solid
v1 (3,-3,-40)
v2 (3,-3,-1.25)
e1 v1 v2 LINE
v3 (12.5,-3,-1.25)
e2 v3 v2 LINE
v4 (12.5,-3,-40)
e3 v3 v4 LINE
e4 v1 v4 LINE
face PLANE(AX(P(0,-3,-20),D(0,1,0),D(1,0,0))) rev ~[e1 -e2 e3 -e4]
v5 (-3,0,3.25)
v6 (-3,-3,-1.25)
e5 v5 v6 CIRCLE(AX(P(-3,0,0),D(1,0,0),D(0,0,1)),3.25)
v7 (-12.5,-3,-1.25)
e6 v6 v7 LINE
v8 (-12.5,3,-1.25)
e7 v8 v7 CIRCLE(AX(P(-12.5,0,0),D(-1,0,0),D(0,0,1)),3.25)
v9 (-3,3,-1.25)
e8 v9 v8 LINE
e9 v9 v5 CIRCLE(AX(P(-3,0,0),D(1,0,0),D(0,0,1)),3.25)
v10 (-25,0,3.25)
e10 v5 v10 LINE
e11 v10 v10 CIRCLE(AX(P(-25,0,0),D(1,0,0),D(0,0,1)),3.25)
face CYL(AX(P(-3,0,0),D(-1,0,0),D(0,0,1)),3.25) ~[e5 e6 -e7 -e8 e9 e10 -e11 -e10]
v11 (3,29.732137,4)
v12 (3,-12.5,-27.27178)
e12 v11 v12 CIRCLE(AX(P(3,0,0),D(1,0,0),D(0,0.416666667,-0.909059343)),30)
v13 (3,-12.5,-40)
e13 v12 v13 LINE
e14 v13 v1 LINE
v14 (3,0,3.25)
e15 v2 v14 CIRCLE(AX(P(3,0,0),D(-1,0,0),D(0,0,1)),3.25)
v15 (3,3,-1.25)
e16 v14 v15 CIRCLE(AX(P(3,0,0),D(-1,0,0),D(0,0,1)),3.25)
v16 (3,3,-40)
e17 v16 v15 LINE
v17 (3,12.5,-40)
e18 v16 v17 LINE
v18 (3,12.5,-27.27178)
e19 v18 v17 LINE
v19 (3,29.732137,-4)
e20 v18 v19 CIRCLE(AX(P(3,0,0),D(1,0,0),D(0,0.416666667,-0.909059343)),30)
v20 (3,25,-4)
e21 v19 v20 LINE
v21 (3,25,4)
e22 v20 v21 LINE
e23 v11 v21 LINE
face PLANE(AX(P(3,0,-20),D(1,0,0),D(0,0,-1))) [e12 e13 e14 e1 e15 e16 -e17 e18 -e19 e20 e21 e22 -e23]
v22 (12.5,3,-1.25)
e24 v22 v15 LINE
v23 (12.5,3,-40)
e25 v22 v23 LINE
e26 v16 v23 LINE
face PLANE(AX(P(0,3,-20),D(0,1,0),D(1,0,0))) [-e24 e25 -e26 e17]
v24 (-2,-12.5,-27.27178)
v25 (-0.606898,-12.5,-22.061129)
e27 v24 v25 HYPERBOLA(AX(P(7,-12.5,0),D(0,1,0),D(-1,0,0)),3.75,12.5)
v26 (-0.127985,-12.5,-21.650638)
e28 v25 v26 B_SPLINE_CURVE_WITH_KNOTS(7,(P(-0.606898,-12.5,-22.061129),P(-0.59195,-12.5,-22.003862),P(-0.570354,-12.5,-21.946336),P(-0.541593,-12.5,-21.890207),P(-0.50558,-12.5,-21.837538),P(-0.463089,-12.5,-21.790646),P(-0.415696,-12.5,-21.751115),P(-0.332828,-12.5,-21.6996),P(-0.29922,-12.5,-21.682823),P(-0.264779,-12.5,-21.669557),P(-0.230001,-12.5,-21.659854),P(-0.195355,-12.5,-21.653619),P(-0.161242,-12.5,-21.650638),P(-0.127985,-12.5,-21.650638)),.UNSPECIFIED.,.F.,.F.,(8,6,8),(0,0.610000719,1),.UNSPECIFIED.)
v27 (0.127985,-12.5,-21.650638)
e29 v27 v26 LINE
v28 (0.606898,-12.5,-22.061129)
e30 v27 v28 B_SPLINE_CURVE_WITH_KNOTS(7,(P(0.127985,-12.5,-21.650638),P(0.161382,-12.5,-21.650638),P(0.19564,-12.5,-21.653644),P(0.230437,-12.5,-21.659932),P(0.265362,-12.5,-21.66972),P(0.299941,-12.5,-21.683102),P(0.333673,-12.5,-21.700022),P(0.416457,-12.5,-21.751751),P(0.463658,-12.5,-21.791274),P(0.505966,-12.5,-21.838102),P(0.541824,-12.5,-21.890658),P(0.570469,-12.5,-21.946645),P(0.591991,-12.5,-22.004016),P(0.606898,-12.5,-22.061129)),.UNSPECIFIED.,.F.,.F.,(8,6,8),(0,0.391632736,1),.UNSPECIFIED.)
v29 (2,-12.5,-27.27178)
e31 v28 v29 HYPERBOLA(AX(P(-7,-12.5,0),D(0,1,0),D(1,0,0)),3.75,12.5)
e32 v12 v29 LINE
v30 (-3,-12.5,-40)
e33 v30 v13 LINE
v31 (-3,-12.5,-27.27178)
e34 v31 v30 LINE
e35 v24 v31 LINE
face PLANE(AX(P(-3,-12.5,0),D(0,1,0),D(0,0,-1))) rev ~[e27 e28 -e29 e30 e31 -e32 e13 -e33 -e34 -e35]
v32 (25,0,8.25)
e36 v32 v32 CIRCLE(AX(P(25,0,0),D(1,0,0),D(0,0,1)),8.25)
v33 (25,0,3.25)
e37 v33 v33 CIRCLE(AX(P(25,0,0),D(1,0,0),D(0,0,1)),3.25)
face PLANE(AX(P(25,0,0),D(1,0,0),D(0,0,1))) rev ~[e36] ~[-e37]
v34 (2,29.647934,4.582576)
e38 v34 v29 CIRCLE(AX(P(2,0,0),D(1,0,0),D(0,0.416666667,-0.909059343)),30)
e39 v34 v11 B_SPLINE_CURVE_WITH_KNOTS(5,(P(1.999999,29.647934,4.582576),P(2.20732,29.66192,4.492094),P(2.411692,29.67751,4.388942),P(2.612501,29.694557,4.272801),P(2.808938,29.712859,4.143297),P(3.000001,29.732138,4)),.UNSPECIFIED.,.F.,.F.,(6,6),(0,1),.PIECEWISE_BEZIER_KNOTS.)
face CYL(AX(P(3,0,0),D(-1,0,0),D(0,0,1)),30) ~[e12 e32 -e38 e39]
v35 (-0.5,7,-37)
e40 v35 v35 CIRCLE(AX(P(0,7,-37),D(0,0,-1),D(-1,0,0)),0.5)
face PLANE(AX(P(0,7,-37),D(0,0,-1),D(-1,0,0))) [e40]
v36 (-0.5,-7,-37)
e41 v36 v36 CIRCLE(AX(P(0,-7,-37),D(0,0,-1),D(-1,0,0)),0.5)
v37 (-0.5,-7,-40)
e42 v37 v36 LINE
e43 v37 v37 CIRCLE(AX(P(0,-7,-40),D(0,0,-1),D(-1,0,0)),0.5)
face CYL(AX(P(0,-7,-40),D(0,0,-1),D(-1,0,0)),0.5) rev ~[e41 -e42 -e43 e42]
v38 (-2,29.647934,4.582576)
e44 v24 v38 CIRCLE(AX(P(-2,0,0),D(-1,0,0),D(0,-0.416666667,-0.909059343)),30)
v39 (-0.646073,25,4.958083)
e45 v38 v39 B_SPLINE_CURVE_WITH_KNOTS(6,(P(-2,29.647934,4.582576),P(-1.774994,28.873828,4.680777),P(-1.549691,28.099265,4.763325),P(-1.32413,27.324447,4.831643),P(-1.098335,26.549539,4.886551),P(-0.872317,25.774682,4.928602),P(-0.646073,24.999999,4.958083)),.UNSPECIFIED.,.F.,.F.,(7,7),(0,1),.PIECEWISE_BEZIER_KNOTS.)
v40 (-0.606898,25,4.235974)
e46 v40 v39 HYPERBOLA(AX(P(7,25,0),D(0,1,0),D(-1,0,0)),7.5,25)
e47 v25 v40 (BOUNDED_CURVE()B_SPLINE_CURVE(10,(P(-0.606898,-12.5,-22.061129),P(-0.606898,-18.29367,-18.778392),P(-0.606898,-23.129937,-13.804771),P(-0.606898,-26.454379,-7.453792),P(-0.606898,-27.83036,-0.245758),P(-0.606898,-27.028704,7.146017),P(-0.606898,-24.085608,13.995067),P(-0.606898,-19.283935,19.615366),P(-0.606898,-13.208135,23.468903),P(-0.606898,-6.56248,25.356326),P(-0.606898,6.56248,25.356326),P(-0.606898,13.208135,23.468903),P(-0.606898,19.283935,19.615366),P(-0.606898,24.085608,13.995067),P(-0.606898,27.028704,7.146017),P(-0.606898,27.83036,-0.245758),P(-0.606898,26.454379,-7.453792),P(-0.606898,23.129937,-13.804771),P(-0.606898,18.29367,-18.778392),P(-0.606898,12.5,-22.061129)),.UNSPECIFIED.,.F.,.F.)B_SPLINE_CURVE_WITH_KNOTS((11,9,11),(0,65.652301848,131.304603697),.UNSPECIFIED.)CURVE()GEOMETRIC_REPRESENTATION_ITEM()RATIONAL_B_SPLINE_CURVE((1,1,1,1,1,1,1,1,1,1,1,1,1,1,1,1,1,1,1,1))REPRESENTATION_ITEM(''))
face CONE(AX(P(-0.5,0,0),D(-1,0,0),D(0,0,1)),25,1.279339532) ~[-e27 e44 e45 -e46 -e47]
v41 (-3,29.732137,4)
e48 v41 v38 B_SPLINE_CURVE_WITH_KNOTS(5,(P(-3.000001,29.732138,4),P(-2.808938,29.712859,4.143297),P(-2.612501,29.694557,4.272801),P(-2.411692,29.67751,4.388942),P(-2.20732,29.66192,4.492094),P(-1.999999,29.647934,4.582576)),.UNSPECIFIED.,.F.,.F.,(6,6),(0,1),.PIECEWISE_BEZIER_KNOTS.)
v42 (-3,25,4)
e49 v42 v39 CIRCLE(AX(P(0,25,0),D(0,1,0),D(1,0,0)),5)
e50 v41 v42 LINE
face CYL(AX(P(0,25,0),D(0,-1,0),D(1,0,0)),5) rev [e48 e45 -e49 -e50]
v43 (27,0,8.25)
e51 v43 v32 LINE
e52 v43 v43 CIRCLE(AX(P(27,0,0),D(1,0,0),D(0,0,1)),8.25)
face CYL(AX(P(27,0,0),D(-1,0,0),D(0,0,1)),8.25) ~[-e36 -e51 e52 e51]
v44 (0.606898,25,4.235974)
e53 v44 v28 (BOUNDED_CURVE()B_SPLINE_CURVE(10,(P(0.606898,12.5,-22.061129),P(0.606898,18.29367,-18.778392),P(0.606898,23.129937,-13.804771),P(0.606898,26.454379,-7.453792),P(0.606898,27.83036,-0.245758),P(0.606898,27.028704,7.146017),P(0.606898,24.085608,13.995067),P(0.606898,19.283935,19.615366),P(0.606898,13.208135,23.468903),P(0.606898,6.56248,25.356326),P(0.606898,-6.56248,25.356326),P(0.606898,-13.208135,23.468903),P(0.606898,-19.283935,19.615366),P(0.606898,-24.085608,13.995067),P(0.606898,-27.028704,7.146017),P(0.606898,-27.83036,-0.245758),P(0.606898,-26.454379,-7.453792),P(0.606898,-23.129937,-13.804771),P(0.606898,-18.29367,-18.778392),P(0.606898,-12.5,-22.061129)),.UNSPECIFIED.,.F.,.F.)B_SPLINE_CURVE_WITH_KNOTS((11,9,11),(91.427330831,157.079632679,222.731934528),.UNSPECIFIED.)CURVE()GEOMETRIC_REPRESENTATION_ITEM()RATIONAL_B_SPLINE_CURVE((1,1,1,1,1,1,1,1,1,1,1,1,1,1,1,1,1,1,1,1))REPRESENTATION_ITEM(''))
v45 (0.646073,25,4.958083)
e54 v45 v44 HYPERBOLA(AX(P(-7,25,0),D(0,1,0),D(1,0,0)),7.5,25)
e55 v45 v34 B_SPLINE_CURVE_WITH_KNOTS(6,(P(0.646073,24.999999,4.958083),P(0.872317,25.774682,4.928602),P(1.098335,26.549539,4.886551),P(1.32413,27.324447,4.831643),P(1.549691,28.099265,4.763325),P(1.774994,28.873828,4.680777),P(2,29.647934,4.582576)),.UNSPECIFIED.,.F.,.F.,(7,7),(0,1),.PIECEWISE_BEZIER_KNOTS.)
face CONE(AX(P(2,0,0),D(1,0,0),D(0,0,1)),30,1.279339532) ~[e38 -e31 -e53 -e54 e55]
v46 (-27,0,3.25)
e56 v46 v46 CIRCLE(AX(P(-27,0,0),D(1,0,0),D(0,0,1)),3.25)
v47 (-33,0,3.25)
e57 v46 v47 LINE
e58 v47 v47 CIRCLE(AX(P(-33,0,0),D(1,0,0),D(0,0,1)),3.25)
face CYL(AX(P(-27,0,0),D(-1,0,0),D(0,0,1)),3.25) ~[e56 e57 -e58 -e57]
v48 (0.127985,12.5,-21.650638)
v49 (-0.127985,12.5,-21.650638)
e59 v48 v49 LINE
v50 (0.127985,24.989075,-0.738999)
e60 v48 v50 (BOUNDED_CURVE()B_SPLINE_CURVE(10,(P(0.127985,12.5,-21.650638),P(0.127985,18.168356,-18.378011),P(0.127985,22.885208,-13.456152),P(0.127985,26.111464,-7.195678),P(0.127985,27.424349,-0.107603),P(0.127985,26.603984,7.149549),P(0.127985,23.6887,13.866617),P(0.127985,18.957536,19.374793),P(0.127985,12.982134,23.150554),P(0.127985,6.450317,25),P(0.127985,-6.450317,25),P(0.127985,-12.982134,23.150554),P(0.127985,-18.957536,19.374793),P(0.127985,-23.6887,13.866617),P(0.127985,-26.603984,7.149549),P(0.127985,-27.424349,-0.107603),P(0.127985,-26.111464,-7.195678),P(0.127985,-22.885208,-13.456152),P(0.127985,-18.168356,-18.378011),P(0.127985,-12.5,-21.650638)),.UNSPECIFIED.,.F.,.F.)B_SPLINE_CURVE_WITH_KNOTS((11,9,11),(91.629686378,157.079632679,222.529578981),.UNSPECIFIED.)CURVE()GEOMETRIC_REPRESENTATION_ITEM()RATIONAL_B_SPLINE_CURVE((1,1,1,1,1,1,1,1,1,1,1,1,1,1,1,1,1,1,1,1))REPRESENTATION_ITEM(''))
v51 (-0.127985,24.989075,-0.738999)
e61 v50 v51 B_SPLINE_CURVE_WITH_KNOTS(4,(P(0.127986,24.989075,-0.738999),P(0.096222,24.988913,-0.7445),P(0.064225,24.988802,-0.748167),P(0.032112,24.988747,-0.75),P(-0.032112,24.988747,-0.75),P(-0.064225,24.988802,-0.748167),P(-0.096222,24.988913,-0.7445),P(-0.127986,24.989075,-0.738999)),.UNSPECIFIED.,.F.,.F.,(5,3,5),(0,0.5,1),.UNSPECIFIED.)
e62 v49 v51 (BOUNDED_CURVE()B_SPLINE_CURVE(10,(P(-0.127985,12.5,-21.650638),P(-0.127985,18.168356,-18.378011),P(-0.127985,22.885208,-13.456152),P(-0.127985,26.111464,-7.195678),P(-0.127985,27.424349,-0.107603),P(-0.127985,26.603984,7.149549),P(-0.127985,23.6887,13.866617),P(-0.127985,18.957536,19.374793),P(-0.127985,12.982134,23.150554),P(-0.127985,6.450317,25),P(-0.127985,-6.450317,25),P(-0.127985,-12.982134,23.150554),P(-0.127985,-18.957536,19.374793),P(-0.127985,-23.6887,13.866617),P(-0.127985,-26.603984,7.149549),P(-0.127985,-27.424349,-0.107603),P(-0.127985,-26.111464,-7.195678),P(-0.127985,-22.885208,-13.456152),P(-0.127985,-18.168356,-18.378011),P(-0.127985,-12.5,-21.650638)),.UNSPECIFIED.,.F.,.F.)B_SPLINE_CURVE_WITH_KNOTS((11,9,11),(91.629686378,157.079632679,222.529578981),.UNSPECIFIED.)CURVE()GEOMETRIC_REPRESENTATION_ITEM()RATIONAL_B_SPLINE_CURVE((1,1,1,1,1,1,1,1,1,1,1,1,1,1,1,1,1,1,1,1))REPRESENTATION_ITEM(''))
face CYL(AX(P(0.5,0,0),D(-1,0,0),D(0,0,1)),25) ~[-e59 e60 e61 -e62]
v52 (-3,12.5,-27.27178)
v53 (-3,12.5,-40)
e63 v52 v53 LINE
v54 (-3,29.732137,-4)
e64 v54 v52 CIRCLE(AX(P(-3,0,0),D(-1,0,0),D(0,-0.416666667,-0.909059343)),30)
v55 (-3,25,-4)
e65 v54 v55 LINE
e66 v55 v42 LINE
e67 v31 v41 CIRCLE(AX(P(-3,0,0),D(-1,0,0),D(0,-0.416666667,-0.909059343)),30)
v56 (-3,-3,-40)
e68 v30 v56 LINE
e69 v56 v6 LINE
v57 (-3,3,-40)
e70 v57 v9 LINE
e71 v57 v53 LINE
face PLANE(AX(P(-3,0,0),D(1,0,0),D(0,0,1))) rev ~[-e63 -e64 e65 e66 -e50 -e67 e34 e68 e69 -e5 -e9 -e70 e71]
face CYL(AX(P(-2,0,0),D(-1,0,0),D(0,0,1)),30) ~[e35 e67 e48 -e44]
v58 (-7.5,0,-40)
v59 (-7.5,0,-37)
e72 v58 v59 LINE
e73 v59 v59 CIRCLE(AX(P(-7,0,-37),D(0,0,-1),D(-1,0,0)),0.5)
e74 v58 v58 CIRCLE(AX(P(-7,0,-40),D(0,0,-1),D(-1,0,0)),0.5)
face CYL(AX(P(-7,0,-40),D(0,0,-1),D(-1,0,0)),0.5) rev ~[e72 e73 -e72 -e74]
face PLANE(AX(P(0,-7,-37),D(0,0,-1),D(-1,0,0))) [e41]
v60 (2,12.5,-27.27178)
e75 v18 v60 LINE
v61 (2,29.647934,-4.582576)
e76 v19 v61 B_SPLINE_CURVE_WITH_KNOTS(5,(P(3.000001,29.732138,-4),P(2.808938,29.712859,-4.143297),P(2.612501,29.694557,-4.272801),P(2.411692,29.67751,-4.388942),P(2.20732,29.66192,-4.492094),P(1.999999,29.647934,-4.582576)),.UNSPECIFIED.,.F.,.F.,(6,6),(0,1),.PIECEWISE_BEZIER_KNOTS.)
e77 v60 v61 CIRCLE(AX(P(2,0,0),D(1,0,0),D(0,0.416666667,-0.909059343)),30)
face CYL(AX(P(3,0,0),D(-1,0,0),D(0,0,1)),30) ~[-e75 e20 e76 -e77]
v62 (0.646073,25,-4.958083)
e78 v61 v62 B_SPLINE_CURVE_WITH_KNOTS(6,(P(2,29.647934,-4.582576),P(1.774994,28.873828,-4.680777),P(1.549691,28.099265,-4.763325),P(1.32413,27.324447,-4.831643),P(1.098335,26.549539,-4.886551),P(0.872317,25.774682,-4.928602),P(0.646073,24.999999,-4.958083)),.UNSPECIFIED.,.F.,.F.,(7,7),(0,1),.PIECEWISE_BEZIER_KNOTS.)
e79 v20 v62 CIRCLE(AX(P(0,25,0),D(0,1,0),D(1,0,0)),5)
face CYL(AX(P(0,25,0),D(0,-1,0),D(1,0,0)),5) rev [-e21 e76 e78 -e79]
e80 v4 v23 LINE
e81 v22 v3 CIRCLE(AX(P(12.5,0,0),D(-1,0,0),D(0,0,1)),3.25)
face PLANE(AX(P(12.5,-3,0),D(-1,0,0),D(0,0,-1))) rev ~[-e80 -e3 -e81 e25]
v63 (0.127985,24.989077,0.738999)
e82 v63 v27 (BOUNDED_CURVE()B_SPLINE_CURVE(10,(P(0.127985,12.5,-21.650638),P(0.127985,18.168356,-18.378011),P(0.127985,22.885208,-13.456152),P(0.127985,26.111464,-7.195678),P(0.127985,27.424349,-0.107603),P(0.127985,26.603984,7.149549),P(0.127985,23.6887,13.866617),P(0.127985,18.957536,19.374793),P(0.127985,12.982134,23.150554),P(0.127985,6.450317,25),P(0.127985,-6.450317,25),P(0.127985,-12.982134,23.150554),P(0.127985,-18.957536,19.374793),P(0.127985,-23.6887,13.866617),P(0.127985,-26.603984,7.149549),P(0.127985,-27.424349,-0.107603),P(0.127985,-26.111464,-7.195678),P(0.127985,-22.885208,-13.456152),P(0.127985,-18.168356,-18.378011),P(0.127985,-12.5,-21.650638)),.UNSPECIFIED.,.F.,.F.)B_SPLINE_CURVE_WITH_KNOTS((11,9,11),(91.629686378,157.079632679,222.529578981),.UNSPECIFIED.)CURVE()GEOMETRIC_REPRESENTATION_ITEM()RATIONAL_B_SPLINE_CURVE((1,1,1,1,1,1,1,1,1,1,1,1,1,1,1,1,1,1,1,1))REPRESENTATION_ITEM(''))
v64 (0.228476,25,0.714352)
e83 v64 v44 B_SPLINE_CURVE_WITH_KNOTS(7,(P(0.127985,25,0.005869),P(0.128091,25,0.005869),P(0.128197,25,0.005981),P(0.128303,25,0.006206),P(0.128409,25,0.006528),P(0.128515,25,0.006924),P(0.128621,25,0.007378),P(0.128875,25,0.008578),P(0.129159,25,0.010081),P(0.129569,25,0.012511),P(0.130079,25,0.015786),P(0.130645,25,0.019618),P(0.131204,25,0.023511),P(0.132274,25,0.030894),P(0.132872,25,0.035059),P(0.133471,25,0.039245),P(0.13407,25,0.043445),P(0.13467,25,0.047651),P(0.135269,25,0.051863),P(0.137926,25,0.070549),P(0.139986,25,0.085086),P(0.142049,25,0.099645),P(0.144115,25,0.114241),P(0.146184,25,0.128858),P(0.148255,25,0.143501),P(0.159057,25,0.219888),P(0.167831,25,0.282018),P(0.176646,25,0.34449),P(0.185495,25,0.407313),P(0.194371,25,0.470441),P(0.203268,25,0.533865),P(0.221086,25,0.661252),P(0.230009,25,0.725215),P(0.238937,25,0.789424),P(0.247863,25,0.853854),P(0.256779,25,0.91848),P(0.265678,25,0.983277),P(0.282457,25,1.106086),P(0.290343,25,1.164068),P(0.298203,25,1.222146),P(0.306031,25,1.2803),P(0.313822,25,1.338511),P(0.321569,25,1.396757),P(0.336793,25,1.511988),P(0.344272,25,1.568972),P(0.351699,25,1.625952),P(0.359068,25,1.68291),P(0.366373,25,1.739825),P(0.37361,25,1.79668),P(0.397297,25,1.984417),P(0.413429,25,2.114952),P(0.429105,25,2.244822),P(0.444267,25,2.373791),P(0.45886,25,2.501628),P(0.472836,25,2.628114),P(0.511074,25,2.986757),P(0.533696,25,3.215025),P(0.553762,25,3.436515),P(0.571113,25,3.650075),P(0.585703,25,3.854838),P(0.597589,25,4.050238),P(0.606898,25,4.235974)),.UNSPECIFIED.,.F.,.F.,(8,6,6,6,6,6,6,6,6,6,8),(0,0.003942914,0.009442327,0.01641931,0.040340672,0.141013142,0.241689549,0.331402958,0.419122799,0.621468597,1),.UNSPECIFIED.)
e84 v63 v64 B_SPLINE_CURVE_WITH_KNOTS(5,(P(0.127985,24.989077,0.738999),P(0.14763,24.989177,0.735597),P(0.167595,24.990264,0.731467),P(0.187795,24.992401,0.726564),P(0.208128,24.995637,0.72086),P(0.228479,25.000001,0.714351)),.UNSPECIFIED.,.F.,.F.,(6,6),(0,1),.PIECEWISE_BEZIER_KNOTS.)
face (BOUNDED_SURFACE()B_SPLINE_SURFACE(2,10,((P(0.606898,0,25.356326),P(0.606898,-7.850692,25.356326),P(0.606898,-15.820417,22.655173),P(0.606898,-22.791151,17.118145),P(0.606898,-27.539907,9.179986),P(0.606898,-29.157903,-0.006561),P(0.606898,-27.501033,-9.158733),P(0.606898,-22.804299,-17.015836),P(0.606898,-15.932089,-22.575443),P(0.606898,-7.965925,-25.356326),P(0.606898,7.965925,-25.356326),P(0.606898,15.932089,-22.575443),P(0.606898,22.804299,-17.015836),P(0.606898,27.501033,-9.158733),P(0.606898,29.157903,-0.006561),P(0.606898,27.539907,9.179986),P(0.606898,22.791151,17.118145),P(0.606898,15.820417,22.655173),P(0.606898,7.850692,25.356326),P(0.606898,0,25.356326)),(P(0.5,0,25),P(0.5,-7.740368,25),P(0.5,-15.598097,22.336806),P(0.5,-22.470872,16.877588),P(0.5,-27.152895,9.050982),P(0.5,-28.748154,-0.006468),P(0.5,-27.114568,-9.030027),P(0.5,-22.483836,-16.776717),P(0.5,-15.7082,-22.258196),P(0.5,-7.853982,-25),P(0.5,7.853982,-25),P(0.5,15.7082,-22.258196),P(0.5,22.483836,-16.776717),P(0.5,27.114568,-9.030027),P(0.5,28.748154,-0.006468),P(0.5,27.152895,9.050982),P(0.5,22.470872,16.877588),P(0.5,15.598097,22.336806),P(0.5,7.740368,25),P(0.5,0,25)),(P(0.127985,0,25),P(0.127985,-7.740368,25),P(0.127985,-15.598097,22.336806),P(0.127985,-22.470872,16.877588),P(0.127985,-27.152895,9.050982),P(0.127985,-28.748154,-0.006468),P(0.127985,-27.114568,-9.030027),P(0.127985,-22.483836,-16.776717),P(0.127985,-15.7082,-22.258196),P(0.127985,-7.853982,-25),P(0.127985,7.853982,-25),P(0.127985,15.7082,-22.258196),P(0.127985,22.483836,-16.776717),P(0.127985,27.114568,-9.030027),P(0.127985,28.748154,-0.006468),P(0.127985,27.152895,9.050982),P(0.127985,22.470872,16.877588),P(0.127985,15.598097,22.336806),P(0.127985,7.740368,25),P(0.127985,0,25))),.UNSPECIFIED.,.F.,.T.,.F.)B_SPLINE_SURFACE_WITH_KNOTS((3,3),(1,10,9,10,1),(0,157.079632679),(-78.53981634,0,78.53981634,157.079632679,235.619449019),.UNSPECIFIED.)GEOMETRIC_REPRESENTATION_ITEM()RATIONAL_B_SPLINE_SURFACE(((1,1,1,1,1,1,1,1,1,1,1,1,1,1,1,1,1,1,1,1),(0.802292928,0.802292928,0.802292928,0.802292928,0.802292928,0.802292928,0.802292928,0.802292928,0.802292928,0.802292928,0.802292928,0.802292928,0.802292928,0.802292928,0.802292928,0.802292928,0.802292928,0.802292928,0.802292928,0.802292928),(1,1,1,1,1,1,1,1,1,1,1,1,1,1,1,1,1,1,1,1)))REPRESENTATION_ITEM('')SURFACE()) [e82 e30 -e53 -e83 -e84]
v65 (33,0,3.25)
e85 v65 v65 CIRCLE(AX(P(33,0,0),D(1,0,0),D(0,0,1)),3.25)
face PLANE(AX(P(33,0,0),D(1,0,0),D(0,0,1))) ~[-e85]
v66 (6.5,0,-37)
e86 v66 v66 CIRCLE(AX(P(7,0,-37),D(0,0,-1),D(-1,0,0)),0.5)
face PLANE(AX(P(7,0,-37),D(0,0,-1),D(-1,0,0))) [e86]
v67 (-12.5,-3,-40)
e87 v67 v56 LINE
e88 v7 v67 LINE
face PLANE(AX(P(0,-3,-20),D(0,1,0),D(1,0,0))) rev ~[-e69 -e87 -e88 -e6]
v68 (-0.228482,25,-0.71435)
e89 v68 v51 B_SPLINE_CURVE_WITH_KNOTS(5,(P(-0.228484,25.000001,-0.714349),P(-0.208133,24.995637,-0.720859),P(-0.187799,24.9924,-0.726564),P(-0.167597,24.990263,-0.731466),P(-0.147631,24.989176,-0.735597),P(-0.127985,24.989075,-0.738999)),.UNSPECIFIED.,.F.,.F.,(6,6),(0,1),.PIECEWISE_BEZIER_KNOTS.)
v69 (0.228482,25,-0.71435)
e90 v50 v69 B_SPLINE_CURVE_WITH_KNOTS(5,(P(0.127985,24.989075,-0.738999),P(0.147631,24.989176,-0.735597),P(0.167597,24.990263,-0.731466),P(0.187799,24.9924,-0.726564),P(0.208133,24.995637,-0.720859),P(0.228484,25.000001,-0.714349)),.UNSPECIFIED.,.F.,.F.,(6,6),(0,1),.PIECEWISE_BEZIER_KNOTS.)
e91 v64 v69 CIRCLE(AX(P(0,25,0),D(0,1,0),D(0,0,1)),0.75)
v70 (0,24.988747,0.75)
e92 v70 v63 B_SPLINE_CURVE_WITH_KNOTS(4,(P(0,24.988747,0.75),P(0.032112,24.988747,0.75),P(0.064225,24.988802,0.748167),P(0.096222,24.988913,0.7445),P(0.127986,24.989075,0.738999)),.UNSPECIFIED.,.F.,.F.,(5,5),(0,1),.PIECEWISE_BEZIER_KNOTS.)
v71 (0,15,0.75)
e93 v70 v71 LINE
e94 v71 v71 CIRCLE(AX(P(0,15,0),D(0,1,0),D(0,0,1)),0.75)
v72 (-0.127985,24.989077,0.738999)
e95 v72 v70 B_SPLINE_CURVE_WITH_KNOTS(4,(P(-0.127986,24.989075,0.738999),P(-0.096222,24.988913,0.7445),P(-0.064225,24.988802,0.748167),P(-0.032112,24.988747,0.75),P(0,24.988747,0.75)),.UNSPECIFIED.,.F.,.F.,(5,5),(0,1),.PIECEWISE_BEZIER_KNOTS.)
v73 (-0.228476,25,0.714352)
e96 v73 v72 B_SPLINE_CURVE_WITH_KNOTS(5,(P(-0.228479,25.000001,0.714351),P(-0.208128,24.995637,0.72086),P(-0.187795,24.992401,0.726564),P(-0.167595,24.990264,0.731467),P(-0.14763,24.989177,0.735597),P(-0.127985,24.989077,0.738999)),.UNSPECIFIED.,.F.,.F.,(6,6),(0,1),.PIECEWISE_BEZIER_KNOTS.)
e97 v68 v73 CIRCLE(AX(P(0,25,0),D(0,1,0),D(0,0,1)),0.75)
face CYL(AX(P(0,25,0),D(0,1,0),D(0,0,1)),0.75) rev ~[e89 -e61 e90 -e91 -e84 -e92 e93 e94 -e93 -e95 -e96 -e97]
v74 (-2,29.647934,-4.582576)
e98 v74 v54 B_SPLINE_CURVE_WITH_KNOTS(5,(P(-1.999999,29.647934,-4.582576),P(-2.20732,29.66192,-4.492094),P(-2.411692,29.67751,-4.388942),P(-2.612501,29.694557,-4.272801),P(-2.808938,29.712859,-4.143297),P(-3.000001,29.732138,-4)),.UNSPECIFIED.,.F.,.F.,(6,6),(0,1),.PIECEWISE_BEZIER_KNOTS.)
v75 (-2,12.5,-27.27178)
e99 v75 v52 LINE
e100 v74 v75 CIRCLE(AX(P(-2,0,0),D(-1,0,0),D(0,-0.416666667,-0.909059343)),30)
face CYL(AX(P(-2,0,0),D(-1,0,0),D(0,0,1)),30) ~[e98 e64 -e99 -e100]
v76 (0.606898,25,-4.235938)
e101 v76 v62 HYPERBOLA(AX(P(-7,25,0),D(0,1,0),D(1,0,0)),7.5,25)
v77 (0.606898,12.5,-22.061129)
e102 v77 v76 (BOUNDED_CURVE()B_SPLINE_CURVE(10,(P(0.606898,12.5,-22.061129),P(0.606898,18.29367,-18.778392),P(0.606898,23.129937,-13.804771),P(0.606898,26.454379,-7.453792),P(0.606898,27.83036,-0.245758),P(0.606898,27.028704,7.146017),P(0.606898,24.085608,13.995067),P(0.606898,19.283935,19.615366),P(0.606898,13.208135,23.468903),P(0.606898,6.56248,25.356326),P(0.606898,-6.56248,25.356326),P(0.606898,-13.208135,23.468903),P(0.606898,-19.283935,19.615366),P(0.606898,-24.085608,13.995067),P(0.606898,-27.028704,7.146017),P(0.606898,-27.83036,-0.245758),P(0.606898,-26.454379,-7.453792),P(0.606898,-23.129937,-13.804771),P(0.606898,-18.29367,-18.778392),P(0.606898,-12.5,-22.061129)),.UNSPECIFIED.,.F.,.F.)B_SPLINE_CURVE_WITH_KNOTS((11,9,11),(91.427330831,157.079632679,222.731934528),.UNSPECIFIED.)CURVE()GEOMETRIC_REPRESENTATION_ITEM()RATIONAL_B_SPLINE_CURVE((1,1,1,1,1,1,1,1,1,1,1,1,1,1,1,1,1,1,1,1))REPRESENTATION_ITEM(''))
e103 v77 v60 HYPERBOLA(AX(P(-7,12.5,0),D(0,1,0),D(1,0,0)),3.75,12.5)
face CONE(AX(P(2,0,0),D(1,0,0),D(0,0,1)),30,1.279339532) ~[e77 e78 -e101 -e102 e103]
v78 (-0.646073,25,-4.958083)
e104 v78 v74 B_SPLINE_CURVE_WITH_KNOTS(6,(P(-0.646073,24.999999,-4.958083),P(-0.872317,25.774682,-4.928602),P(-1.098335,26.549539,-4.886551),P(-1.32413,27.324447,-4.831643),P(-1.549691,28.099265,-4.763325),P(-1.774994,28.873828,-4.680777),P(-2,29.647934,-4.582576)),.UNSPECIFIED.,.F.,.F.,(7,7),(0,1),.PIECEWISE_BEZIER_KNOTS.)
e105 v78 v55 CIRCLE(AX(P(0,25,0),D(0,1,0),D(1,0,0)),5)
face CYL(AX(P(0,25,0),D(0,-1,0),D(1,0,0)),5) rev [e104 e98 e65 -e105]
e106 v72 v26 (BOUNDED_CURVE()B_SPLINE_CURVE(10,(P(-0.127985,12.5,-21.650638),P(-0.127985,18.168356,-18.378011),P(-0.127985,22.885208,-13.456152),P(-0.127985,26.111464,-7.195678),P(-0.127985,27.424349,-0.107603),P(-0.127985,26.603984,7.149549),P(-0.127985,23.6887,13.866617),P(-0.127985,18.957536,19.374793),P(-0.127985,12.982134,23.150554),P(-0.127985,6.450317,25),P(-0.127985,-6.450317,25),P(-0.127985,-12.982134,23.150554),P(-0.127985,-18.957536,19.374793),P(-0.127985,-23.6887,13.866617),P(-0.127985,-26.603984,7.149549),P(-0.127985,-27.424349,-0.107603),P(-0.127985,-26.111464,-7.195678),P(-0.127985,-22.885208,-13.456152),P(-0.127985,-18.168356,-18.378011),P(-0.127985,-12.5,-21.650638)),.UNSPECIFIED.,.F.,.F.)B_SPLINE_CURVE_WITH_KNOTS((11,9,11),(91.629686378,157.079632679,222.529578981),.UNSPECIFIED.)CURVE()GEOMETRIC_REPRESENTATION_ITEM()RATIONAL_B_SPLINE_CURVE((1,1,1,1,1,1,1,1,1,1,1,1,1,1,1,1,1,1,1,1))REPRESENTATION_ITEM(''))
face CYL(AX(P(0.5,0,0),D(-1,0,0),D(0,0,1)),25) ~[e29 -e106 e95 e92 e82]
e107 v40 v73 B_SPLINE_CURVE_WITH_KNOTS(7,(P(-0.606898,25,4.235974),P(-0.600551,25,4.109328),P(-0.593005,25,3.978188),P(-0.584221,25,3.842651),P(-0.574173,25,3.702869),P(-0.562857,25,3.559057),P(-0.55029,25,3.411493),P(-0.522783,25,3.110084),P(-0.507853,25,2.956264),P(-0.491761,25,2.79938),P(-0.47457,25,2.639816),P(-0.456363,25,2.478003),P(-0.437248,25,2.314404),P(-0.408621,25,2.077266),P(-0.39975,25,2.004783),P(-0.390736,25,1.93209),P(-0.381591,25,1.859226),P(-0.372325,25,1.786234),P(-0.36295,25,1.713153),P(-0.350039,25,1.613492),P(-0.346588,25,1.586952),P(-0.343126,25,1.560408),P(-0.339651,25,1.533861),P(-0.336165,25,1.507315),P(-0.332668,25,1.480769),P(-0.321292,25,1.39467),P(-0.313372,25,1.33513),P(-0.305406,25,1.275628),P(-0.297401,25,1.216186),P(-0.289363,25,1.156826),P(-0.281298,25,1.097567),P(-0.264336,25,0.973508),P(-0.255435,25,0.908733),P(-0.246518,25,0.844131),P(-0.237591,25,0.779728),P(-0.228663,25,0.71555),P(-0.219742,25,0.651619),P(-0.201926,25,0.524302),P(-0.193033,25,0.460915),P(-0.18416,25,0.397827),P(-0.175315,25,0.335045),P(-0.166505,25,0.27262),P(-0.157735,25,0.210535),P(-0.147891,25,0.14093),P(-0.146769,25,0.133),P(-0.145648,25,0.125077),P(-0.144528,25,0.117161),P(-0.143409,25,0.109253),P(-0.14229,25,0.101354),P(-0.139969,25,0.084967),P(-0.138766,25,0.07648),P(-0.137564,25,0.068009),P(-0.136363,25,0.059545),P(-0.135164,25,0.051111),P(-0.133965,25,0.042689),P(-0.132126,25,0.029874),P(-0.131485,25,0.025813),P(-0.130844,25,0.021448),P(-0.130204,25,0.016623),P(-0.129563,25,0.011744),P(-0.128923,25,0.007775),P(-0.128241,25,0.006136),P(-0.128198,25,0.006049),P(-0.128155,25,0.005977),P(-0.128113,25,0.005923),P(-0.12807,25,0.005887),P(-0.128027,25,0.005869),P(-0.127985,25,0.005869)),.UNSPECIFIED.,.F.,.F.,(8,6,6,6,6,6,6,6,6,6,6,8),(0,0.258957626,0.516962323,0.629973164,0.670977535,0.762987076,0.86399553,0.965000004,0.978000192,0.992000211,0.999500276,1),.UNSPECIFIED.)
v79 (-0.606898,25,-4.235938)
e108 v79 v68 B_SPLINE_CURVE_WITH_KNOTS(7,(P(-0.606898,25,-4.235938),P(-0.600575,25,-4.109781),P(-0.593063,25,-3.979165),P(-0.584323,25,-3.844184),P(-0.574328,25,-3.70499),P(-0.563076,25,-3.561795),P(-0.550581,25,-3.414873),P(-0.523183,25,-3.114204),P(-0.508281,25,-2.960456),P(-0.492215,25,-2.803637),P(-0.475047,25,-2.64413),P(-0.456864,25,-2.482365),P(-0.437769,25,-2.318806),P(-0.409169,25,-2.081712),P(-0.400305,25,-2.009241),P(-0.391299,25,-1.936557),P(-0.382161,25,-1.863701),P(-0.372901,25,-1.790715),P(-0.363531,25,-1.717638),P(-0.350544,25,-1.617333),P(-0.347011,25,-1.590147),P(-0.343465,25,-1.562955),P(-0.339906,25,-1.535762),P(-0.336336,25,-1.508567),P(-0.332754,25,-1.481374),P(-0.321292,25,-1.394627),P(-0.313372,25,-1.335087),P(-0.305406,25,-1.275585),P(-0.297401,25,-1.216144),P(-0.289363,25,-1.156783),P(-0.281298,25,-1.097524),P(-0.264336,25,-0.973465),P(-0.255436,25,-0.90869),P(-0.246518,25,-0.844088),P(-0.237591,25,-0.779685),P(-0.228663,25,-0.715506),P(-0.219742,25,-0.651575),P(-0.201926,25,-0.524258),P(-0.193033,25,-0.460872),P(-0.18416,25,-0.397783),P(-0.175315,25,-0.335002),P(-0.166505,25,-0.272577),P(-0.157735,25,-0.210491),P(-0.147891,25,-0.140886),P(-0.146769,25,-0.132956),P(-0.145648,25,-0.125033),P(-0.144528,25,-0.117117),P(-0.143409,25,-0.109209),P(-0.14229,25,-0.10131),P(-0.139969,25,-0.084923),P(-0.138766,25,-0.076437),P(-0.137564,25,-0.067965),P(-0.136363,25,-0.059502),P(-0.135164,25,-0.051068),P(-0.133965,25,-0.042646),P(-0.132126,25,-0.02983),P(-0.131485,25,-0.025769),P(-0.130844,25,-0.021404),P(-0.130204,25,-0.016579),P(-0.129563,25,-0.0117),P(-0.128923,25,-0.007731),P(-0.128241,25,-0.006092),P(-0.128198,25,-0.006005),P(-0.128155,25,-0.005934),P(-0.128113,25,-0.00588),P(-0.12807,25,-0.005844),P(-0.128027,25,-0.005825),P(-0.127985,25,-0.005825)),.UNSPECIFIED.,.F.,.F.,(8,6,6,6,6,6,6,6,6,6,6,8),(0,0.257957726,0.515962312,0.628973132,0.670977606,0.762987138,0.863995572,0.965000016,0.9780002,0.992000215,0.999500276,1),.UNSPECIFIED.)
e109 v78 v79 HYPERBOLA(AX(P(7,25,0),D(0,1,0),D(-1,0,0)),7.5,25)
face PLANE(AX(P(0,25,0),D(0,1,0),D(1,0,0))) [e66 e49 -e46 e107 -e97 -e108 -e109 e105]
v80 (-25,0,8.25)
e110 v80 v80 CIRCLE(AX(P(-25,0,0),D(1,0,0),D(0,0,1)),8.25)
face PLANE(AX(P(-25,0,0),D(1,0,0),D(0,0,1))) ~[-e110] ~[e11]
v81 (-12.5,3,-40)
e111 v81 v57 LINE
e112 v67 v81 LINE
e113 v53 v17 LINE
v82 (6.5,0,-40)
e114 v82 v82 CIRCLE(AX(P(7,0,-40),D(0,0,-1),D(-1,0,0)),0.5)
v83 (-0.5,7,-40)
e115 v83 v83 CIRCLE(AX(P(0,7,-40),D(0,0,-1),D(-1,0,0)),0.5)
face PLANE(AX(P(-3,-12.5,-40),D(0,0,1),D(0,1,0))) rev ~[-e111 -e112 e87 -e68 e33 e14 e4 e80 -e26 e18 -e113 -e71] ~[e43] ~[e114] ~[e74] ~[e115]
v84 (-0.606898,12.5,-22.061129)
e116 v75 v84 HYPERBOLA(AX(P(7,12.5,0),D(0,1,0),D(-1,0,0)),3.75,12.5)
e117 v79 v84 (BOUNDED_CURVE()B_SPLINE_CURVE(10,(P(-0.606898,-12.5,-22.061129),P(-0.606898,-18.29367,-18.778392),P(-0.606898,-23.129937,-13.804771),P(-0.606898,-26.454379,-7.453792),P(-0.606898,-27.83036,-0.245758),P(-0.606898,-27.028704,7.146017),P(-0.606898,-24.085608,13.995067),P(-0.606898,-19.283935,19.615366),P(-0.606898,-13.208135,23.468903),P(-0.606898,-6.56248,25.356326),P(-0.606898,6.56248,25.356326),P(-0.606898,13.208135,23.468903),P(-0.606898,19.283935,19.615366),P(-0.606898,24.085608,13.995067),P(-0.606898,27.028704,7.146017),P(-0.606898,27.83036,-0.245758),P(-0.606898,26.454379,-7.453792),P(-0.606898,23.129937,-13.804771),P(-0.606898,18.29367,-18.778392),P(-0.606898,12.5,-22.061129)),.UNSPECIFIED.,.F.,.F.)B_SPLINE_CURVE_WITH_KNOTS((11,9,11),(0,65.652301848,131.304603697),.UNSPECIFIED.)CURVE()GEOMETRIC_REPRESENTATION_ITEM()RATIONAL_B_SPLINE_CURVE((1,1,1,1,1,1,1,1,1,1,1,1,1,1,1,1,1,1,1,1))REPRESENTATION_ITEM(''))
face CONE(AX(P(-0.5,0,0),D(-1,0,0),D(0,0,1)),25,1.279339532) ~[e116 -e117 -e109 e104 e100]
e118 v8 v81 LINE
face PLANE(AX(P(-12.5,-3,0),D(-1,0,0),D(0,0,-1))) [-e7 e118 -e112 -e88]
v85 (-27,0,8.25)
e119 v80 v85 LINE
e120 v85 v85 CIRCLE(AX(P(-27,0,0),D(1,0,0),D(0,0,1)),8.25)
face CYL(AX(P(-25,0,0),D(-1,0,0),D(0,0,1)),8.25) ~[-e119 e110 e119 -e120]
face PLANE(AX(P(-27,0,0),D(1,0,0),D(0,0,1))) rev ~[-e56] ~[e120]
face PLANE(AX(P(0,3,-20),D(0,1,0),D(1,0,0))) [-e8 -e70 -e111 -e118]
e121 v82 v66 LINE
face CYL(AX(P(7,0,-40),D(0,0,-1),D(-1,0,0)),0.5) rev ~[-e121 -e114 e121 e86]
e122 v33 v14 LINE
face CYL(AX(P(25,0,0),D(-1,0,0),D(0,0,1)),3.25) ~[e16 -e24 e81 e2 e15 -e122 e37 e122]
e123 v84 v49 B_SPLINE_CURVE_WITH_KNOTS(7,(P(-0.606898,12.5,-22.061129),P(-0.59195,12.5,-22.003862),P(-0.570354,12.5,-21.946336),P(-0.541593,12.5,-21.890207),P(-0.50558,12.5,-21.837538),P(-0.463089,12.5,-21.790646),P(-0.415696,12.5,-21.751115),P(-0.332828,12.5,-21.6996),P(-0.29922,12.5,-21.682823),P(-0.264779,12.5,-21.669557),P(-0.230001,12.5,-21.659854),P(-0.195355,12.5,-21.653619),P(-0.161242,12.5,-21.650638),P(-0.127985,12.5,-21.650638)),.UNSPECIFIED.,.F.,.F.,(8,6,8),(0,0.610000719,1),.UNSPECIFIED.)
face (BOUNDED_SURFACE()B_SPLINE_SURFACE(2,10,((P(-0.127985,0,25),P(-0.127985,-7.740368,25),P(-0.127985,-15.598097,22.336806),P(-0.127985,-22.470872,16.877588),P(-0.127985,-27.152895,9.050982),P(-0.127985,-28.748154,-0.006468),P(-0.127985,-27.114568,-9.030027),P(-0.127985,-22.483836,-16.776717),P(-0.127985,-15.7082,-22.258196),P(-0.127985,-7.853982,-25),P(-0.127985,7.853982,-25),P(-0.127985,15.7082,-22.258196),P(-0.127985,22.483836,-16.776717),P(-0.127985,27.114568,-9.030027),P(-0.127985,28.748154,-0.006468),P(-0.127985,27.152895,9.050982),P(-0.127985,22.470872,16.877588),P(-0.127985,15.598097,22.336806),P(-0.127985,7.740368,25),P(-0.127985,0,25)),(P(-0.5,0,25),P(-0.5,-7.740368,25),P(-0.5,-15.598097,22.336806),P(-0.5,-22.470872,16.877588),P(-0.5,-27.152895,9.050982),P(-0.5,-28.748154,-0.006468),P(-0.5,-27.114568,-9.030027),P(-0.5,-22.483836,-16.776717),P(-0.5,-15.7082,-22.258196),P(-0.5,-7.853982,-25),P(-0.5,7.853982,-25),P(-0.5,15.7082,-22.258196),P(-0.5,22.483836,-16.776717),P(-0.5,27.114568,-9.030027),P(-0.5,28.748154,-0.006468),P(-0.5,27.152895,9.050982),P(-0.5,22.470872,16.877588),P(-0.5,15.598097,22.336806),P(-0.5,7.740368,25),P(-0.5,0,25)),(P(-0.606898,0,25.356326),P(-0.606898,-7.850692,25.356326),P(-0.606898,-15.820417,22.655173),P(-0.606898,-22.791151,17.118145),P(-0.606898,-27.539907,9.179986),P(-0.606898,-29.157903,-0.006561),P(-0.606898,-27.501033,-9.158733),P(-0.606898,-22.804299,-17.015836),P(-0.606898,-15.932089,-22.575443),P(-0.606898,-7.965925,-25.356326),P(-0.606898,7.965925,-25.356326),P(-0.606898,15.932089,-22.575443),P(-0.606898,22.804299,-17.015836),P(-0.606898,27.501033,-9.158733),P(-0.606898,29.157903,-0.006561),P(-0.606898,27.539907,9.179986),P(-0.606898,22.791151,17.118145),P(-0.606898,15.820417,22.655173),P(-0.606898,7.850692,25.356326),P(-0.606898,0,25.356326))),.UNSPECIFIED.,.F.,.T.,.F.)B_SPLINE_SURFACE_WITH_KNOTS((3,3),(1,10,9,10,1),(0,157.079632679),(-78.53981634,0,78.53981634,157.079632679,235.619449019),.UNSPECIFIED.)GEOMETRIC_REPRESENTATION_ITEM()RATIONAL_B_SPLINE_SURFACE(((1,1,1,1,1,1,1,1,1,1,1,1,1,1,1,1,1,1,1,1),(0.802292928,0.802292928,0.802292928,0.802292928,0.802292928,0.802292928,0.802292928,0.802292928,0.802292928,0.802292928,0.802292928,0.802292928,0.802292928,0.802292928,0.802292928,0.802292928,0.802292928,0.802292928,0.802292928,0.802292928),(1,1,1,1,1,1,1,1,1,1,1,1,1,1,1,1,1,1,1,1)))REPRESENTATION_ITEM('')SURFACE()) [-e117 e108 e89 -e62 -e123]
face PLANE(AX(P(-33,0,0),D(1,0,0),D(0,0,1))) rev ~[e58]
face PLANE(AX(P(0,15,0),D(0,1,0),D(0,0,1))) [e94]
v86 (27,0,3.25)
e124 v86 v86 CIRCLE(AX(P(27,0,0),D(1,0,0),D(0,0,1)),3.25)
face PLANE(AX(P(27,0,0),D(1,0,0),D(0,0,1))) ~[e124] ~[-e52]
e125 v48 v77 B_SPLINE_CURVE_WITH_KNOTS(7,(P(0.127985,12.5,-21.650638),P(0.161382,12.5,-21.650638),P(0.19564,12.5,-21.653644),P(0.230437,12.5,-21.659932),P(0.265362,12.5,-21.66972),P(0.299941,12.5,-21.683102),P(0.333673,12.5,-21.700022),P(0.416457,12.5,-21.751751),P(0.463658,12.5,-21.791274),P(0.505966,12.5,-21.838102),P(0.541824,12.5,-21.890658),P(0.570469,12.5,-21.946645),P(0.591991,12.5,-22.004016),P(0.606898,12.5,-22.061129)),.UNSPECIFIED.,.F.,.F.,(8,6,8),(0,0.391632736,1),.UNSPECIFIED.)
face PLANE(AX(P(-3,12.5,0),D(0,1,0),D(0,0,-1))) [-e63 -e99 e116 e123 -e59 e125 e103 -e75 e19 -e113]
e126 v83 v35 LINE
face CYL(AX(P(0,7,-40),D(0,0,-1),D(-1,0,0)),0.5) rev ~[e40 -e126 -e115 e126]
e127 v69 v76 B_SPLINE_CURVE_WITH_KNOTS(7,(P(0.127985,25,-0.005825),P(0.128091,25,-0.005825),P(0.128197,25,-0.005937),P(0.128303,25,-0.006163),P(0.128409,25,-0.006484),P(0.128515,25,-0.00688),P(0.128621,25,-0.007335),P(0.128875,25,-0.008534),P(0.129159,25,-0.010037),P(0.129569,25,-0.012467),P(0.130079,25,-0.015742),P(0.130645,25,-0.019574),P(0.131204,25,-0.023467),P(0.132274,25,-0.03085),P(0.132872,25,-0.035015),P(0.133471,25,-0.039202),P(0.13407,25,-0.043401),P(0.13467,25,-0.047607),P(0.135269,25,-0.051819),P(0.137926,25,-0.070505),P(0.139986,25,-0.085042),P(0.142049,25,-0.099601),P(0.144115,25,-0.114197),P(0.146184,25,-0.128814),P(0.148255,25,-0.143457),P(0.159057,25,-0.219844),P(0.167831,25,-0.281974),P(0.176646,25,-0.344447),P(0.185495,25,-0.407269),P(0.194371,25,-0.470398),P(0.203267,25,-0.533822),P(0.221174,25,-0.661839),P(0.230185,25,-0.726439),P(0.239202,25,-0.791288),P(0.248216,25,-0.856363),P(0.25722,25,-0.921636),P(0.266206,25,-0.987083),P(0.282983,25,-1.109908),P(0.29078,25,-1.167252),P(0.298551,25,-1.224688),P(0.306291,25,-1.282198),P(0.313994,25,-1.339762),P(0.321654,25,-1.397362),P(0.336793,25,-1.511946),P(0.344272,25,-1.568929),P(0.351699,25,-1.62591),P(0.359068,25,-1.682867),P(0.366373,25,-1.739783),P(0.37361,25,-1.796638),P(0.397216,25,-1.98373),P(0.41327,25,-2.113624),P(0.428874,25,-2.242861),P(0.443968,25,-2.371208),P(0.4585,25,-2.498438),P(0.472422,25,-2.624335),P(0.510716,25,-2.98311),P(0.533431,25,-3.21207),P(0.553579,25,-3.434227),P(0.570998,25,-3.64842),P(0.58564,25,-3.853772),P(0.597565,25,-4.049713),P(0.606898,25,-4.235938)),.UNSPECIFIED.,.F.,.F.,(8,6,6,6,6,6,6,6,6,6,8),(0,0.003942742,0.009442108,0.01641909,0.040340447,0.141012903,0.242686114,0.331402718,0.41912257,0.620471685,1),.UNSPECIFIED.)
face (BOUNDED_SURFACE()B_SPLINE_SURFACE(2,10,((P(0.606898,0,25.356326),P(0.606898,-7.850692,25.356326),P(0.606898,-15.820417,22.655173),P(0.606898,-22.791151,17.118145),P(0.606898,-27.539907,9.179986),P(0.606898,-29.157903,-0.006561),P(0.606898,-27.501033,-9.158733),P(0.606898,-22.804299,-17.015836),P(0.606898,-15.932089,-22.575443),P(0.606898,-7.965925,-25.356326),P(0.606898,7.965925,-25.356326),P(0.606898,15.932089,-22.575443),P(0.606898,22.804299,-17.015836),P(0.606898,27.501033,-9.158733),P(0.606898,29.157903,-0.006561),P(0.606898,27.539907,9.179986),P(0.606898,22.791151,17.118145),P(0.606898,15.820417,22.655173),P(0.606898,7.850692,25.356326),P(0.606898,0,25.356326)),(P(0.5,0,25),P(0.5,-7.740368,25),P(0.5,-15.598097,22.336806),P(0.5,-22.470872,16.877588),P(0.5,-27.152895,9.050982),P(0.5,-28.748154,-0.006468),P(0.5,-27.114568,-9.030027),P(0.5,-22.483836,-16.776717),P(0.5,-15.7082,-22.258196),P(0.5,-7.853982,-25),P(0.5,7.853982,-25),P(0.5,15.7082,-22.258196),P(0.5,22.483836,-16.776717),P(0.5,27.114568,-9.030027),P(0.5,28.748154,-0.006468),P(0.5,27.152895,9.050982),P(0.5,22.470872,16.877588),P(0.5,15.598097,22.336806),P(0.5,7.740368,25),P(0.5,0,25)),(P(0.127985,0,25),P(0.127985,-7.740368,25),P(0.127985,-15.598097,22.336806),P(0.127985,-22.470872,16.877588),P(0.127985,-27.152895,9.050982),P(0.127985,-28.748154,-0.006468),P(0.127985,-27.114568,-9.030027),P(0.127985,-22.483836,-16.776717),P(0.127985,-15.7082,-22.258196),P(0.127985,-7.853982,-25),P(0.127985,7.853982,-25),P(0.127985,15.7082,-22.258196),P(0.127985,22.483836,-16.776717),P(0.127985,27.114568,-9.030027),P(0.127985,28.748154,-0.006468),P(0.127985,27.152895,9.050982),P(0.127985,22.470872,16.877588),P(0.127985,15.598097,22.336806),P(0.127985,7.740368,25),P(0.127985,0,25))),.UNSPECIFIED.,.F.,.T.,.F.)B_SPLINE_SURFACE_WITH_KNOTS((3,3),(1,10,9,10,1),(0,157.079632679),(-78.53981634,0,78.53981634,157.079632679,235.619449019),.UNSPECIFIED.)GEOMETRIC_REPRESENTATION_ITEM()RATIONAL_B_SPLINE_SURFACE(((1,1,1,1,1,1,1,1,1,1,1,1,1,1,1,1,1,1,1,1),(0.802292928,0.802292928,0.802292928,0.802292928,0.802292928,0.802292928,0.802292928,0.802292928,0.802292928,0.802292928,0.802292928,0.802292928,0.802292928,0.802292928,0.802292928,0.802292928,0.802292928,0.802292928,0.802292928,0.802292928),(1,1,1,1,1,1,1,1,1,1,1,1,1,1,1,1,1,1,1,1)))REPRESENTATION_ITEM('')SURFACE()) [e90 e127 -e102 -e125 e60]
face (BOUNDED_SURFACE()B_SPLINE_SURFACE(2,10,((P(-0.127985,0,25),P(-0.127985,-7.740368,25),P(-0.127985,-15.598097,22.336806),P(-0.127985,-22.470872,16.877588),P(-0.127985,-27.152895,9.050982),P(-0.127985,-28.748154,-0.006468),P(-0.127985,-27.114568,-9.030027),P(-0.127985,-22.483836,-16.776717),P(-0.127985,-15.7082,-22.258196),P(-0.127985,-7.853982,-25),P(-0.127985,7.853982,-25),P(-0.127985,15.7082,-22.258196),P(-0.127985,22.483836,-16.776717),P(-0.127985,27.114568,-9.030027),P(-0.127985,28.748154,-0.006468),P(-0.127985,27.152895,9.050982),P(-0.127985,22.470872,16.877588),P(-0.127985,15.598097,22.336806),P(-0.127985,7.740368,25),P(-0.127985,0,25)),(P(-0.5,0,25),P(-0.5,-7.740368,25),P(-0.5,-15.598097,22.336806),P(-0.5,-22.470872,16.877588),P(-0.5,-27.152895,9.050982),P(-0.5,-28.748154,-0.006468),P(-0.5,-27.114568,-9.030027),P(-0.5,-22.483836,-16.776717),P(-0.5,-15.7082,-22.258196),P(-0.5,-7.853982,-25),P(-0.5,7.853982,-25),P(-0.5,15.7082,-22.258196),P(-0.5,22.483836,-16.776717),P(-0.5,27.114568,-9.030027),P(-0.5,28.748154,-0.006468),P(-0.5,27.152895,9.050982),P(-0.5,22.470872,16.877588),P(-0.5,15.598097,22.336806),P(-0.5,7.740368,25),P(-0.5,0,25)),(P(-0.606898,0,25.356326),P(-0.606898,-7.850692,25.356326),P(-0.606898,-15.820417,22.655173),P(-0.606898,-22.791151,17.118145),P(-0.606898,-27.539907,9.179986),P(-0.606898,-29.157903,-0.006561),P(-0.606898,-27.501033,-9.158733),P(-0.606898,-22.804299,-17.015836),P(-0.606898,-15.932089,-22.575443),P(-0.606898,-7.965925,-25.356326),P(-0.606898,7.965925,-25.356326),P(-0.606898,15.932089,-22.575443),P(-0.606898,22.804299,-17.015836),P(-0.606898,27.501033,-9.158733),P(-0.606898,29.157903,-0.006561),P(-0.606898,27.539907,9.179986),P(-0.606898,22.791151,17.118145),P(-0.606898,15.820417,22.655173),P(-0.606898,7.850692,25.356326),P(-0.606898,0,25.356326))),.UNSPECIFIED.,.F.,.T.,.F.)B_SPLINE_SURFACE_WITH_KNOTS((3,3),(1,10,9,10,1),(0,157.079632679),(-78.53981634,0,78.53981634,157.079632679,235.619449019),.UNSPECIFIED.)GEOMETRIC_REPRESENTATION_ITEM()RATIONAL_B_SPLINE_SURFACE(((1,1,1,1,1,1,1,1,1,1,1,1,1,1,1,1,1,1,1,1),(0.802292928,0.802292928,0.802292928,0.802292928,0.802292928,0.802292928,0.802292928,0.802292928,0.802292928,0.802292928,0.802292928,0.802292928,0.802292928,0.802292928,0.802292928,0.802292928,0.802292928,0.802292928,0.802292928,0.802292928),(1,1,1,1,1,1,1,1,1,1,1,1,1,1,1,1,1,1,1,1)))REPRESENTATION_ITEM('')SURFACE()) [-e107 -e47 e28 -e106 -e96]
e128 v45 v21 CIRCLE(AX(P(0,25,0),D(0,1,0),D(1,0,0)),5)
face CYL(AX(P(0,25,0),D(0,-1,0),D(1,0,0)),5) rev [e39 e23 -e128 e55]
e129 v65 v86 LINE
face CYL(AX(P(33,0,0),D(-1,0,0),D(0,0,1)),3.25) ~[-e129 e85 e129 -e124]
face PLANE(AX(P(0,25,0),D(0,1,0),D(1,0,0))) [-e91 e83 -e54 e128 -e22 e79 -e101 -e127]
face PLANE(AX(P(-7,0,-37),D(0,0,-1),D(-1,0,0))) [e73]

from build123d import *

# Parameters (mm, degrees)
FILLET3_R                = 0.5
BOSS_EXTRUDE1_DEPTH      = 3
BOSS_EXTRUDE1_DEPTH_BACK = 3
SKETCH2_W                = 40
SKETCH2_H                = 25
BOSS_EXTRUDE2_DEPTH      = 3
BOSS_EXTRUDE2_DEPTH_BACK = 3
SKETCH3_W                = 25
SKETCH3_H                = 40
SKETCH4_R                = 0.5
CUT_EXTRUDE1_DEPTH       = 3
SKETCH5_R                = 0.75
CUT_EXTRUDE2_DEPTH       = 10
SKETCH6_R                = 5
CUT_EXTRUDE3_DEPTH       = 76.591004882


with BuildPart() as part:
    # Sketch1 → Revolve1 (revolve)
    with BuildSketch(Plane.XY, mode=Mode.PRIVATE) as revolve1_sk:
        Polygon((-33, 0), (33, 0), (33, 3.25), (27, 3.25), (27, 8.25), (25, 8.25), (25, 3.25), (3, 3.25), (3, 30), (2, 30), (0.5, 25), (-0.5, 25), (-2, 30), (-3, 30), (-3, 3.25), (-25, 3.25), (-25, 8.25), (-27, 8.25), (-27, 3.25), (-33, 3.25), align=None)
    revolve(revolve1_sk.sketch.rotate(Axis((-33, 0, 0), (1, 0, 0)), 90), axis=Axis((-33, 0, 0), (1, 0, 0)))

    # Fillet3
    fillet3_edges = [part.edges().sort_by_distance(p)[0] for p in [
        (0.5, 0, -25),
        (-0.5, 0, -25),
    ]]
    fillet(fillet3_edges, radius=FILLET3_R)

    # Sketch2 → Boss-Extrude1 (add, two sides: drawn at the far end of the back side and taken through both)
    with BuildSketch(Plane(origin=(0, 0, 0), x_dir=(0, 0, -1), z_dir=(1, 0, 0)).offset(-BOSS_EXTRUDE1_DEPTH_BACK)):
        with Locations((20, 0)):
            Rectangle(SKETCH2_W, SKETCH2_H)
    extrude(amount=BOSS_EXTRUDE1_DEPTH + BOSS_EXTRUDE1_DEPTH_BACK)

    # Sketch3 → Boss-Extrude2 (add, two sides: drawn at the far end of the back side and taken through both)
    with BuildSketch(Plane(origin=(0, 0, 0), x_dir=(1, 0, 0), z_dir=(0, 1, 0)).offset(-BOSS_EXTRUDE2_DEPTH_BACK)):
        with Locations((0, 20)):
            Rectangle(SKETCH3_W, SKETCH3_H)
    extrude(amount=BOSS_EXTRUDE2_DEPTH + BOSS_EXTRUDE2_DEPTH_BACK)

    # Sketch4 → Cut-Extrude1 (cut)
    with BuildSketch(Plane(origin=(0, 0, -40), x_dir=(-1, 0, 0), z_dir=(0, 0, -1))):
        with Locations((7, 0)):
            Circle(SKETCH4_R)
        with Locations((-7, 0)):
            Circle(SKETCH4_R)
        with Locations((0, 7)):
            Circle(SKETCH4_R)
        with Locations((0, -7)):
            Circle(SKETCH4_R)
    extrude(amount=-CUT_EXTRUDE1_DEPTH, mode=Mode.SUBTRACT)

    # Sketch5 → Cut-Extrude2 (cut)
    with BuildSketch(Plane(origin=(0, 25, 0), x_dir=(1, 0, 0), z_dir=(0, 1, 0))):
        with Locations(Location((0, 0, 0), (0, 0, 270))):
            Circle(SKETCH5_R)
    extrude(amount=-CUT_EXTRUDE2_DEPTH, mode=Mode.SUBTRACT)

    # Sketch6 → Cut-Extrude3 (cut, through all)
    with BuildSketch(Plane(origin=(0, 25, 0), x_dir=(1, 0, 0), z_dir=(0, 1, 0))):
        Circle(SKETCH6_R)
    extrude(amount=CUT_EXTRUDE3_DEPTH, mode=Mode.SUBTRACT)


solid = part.part
